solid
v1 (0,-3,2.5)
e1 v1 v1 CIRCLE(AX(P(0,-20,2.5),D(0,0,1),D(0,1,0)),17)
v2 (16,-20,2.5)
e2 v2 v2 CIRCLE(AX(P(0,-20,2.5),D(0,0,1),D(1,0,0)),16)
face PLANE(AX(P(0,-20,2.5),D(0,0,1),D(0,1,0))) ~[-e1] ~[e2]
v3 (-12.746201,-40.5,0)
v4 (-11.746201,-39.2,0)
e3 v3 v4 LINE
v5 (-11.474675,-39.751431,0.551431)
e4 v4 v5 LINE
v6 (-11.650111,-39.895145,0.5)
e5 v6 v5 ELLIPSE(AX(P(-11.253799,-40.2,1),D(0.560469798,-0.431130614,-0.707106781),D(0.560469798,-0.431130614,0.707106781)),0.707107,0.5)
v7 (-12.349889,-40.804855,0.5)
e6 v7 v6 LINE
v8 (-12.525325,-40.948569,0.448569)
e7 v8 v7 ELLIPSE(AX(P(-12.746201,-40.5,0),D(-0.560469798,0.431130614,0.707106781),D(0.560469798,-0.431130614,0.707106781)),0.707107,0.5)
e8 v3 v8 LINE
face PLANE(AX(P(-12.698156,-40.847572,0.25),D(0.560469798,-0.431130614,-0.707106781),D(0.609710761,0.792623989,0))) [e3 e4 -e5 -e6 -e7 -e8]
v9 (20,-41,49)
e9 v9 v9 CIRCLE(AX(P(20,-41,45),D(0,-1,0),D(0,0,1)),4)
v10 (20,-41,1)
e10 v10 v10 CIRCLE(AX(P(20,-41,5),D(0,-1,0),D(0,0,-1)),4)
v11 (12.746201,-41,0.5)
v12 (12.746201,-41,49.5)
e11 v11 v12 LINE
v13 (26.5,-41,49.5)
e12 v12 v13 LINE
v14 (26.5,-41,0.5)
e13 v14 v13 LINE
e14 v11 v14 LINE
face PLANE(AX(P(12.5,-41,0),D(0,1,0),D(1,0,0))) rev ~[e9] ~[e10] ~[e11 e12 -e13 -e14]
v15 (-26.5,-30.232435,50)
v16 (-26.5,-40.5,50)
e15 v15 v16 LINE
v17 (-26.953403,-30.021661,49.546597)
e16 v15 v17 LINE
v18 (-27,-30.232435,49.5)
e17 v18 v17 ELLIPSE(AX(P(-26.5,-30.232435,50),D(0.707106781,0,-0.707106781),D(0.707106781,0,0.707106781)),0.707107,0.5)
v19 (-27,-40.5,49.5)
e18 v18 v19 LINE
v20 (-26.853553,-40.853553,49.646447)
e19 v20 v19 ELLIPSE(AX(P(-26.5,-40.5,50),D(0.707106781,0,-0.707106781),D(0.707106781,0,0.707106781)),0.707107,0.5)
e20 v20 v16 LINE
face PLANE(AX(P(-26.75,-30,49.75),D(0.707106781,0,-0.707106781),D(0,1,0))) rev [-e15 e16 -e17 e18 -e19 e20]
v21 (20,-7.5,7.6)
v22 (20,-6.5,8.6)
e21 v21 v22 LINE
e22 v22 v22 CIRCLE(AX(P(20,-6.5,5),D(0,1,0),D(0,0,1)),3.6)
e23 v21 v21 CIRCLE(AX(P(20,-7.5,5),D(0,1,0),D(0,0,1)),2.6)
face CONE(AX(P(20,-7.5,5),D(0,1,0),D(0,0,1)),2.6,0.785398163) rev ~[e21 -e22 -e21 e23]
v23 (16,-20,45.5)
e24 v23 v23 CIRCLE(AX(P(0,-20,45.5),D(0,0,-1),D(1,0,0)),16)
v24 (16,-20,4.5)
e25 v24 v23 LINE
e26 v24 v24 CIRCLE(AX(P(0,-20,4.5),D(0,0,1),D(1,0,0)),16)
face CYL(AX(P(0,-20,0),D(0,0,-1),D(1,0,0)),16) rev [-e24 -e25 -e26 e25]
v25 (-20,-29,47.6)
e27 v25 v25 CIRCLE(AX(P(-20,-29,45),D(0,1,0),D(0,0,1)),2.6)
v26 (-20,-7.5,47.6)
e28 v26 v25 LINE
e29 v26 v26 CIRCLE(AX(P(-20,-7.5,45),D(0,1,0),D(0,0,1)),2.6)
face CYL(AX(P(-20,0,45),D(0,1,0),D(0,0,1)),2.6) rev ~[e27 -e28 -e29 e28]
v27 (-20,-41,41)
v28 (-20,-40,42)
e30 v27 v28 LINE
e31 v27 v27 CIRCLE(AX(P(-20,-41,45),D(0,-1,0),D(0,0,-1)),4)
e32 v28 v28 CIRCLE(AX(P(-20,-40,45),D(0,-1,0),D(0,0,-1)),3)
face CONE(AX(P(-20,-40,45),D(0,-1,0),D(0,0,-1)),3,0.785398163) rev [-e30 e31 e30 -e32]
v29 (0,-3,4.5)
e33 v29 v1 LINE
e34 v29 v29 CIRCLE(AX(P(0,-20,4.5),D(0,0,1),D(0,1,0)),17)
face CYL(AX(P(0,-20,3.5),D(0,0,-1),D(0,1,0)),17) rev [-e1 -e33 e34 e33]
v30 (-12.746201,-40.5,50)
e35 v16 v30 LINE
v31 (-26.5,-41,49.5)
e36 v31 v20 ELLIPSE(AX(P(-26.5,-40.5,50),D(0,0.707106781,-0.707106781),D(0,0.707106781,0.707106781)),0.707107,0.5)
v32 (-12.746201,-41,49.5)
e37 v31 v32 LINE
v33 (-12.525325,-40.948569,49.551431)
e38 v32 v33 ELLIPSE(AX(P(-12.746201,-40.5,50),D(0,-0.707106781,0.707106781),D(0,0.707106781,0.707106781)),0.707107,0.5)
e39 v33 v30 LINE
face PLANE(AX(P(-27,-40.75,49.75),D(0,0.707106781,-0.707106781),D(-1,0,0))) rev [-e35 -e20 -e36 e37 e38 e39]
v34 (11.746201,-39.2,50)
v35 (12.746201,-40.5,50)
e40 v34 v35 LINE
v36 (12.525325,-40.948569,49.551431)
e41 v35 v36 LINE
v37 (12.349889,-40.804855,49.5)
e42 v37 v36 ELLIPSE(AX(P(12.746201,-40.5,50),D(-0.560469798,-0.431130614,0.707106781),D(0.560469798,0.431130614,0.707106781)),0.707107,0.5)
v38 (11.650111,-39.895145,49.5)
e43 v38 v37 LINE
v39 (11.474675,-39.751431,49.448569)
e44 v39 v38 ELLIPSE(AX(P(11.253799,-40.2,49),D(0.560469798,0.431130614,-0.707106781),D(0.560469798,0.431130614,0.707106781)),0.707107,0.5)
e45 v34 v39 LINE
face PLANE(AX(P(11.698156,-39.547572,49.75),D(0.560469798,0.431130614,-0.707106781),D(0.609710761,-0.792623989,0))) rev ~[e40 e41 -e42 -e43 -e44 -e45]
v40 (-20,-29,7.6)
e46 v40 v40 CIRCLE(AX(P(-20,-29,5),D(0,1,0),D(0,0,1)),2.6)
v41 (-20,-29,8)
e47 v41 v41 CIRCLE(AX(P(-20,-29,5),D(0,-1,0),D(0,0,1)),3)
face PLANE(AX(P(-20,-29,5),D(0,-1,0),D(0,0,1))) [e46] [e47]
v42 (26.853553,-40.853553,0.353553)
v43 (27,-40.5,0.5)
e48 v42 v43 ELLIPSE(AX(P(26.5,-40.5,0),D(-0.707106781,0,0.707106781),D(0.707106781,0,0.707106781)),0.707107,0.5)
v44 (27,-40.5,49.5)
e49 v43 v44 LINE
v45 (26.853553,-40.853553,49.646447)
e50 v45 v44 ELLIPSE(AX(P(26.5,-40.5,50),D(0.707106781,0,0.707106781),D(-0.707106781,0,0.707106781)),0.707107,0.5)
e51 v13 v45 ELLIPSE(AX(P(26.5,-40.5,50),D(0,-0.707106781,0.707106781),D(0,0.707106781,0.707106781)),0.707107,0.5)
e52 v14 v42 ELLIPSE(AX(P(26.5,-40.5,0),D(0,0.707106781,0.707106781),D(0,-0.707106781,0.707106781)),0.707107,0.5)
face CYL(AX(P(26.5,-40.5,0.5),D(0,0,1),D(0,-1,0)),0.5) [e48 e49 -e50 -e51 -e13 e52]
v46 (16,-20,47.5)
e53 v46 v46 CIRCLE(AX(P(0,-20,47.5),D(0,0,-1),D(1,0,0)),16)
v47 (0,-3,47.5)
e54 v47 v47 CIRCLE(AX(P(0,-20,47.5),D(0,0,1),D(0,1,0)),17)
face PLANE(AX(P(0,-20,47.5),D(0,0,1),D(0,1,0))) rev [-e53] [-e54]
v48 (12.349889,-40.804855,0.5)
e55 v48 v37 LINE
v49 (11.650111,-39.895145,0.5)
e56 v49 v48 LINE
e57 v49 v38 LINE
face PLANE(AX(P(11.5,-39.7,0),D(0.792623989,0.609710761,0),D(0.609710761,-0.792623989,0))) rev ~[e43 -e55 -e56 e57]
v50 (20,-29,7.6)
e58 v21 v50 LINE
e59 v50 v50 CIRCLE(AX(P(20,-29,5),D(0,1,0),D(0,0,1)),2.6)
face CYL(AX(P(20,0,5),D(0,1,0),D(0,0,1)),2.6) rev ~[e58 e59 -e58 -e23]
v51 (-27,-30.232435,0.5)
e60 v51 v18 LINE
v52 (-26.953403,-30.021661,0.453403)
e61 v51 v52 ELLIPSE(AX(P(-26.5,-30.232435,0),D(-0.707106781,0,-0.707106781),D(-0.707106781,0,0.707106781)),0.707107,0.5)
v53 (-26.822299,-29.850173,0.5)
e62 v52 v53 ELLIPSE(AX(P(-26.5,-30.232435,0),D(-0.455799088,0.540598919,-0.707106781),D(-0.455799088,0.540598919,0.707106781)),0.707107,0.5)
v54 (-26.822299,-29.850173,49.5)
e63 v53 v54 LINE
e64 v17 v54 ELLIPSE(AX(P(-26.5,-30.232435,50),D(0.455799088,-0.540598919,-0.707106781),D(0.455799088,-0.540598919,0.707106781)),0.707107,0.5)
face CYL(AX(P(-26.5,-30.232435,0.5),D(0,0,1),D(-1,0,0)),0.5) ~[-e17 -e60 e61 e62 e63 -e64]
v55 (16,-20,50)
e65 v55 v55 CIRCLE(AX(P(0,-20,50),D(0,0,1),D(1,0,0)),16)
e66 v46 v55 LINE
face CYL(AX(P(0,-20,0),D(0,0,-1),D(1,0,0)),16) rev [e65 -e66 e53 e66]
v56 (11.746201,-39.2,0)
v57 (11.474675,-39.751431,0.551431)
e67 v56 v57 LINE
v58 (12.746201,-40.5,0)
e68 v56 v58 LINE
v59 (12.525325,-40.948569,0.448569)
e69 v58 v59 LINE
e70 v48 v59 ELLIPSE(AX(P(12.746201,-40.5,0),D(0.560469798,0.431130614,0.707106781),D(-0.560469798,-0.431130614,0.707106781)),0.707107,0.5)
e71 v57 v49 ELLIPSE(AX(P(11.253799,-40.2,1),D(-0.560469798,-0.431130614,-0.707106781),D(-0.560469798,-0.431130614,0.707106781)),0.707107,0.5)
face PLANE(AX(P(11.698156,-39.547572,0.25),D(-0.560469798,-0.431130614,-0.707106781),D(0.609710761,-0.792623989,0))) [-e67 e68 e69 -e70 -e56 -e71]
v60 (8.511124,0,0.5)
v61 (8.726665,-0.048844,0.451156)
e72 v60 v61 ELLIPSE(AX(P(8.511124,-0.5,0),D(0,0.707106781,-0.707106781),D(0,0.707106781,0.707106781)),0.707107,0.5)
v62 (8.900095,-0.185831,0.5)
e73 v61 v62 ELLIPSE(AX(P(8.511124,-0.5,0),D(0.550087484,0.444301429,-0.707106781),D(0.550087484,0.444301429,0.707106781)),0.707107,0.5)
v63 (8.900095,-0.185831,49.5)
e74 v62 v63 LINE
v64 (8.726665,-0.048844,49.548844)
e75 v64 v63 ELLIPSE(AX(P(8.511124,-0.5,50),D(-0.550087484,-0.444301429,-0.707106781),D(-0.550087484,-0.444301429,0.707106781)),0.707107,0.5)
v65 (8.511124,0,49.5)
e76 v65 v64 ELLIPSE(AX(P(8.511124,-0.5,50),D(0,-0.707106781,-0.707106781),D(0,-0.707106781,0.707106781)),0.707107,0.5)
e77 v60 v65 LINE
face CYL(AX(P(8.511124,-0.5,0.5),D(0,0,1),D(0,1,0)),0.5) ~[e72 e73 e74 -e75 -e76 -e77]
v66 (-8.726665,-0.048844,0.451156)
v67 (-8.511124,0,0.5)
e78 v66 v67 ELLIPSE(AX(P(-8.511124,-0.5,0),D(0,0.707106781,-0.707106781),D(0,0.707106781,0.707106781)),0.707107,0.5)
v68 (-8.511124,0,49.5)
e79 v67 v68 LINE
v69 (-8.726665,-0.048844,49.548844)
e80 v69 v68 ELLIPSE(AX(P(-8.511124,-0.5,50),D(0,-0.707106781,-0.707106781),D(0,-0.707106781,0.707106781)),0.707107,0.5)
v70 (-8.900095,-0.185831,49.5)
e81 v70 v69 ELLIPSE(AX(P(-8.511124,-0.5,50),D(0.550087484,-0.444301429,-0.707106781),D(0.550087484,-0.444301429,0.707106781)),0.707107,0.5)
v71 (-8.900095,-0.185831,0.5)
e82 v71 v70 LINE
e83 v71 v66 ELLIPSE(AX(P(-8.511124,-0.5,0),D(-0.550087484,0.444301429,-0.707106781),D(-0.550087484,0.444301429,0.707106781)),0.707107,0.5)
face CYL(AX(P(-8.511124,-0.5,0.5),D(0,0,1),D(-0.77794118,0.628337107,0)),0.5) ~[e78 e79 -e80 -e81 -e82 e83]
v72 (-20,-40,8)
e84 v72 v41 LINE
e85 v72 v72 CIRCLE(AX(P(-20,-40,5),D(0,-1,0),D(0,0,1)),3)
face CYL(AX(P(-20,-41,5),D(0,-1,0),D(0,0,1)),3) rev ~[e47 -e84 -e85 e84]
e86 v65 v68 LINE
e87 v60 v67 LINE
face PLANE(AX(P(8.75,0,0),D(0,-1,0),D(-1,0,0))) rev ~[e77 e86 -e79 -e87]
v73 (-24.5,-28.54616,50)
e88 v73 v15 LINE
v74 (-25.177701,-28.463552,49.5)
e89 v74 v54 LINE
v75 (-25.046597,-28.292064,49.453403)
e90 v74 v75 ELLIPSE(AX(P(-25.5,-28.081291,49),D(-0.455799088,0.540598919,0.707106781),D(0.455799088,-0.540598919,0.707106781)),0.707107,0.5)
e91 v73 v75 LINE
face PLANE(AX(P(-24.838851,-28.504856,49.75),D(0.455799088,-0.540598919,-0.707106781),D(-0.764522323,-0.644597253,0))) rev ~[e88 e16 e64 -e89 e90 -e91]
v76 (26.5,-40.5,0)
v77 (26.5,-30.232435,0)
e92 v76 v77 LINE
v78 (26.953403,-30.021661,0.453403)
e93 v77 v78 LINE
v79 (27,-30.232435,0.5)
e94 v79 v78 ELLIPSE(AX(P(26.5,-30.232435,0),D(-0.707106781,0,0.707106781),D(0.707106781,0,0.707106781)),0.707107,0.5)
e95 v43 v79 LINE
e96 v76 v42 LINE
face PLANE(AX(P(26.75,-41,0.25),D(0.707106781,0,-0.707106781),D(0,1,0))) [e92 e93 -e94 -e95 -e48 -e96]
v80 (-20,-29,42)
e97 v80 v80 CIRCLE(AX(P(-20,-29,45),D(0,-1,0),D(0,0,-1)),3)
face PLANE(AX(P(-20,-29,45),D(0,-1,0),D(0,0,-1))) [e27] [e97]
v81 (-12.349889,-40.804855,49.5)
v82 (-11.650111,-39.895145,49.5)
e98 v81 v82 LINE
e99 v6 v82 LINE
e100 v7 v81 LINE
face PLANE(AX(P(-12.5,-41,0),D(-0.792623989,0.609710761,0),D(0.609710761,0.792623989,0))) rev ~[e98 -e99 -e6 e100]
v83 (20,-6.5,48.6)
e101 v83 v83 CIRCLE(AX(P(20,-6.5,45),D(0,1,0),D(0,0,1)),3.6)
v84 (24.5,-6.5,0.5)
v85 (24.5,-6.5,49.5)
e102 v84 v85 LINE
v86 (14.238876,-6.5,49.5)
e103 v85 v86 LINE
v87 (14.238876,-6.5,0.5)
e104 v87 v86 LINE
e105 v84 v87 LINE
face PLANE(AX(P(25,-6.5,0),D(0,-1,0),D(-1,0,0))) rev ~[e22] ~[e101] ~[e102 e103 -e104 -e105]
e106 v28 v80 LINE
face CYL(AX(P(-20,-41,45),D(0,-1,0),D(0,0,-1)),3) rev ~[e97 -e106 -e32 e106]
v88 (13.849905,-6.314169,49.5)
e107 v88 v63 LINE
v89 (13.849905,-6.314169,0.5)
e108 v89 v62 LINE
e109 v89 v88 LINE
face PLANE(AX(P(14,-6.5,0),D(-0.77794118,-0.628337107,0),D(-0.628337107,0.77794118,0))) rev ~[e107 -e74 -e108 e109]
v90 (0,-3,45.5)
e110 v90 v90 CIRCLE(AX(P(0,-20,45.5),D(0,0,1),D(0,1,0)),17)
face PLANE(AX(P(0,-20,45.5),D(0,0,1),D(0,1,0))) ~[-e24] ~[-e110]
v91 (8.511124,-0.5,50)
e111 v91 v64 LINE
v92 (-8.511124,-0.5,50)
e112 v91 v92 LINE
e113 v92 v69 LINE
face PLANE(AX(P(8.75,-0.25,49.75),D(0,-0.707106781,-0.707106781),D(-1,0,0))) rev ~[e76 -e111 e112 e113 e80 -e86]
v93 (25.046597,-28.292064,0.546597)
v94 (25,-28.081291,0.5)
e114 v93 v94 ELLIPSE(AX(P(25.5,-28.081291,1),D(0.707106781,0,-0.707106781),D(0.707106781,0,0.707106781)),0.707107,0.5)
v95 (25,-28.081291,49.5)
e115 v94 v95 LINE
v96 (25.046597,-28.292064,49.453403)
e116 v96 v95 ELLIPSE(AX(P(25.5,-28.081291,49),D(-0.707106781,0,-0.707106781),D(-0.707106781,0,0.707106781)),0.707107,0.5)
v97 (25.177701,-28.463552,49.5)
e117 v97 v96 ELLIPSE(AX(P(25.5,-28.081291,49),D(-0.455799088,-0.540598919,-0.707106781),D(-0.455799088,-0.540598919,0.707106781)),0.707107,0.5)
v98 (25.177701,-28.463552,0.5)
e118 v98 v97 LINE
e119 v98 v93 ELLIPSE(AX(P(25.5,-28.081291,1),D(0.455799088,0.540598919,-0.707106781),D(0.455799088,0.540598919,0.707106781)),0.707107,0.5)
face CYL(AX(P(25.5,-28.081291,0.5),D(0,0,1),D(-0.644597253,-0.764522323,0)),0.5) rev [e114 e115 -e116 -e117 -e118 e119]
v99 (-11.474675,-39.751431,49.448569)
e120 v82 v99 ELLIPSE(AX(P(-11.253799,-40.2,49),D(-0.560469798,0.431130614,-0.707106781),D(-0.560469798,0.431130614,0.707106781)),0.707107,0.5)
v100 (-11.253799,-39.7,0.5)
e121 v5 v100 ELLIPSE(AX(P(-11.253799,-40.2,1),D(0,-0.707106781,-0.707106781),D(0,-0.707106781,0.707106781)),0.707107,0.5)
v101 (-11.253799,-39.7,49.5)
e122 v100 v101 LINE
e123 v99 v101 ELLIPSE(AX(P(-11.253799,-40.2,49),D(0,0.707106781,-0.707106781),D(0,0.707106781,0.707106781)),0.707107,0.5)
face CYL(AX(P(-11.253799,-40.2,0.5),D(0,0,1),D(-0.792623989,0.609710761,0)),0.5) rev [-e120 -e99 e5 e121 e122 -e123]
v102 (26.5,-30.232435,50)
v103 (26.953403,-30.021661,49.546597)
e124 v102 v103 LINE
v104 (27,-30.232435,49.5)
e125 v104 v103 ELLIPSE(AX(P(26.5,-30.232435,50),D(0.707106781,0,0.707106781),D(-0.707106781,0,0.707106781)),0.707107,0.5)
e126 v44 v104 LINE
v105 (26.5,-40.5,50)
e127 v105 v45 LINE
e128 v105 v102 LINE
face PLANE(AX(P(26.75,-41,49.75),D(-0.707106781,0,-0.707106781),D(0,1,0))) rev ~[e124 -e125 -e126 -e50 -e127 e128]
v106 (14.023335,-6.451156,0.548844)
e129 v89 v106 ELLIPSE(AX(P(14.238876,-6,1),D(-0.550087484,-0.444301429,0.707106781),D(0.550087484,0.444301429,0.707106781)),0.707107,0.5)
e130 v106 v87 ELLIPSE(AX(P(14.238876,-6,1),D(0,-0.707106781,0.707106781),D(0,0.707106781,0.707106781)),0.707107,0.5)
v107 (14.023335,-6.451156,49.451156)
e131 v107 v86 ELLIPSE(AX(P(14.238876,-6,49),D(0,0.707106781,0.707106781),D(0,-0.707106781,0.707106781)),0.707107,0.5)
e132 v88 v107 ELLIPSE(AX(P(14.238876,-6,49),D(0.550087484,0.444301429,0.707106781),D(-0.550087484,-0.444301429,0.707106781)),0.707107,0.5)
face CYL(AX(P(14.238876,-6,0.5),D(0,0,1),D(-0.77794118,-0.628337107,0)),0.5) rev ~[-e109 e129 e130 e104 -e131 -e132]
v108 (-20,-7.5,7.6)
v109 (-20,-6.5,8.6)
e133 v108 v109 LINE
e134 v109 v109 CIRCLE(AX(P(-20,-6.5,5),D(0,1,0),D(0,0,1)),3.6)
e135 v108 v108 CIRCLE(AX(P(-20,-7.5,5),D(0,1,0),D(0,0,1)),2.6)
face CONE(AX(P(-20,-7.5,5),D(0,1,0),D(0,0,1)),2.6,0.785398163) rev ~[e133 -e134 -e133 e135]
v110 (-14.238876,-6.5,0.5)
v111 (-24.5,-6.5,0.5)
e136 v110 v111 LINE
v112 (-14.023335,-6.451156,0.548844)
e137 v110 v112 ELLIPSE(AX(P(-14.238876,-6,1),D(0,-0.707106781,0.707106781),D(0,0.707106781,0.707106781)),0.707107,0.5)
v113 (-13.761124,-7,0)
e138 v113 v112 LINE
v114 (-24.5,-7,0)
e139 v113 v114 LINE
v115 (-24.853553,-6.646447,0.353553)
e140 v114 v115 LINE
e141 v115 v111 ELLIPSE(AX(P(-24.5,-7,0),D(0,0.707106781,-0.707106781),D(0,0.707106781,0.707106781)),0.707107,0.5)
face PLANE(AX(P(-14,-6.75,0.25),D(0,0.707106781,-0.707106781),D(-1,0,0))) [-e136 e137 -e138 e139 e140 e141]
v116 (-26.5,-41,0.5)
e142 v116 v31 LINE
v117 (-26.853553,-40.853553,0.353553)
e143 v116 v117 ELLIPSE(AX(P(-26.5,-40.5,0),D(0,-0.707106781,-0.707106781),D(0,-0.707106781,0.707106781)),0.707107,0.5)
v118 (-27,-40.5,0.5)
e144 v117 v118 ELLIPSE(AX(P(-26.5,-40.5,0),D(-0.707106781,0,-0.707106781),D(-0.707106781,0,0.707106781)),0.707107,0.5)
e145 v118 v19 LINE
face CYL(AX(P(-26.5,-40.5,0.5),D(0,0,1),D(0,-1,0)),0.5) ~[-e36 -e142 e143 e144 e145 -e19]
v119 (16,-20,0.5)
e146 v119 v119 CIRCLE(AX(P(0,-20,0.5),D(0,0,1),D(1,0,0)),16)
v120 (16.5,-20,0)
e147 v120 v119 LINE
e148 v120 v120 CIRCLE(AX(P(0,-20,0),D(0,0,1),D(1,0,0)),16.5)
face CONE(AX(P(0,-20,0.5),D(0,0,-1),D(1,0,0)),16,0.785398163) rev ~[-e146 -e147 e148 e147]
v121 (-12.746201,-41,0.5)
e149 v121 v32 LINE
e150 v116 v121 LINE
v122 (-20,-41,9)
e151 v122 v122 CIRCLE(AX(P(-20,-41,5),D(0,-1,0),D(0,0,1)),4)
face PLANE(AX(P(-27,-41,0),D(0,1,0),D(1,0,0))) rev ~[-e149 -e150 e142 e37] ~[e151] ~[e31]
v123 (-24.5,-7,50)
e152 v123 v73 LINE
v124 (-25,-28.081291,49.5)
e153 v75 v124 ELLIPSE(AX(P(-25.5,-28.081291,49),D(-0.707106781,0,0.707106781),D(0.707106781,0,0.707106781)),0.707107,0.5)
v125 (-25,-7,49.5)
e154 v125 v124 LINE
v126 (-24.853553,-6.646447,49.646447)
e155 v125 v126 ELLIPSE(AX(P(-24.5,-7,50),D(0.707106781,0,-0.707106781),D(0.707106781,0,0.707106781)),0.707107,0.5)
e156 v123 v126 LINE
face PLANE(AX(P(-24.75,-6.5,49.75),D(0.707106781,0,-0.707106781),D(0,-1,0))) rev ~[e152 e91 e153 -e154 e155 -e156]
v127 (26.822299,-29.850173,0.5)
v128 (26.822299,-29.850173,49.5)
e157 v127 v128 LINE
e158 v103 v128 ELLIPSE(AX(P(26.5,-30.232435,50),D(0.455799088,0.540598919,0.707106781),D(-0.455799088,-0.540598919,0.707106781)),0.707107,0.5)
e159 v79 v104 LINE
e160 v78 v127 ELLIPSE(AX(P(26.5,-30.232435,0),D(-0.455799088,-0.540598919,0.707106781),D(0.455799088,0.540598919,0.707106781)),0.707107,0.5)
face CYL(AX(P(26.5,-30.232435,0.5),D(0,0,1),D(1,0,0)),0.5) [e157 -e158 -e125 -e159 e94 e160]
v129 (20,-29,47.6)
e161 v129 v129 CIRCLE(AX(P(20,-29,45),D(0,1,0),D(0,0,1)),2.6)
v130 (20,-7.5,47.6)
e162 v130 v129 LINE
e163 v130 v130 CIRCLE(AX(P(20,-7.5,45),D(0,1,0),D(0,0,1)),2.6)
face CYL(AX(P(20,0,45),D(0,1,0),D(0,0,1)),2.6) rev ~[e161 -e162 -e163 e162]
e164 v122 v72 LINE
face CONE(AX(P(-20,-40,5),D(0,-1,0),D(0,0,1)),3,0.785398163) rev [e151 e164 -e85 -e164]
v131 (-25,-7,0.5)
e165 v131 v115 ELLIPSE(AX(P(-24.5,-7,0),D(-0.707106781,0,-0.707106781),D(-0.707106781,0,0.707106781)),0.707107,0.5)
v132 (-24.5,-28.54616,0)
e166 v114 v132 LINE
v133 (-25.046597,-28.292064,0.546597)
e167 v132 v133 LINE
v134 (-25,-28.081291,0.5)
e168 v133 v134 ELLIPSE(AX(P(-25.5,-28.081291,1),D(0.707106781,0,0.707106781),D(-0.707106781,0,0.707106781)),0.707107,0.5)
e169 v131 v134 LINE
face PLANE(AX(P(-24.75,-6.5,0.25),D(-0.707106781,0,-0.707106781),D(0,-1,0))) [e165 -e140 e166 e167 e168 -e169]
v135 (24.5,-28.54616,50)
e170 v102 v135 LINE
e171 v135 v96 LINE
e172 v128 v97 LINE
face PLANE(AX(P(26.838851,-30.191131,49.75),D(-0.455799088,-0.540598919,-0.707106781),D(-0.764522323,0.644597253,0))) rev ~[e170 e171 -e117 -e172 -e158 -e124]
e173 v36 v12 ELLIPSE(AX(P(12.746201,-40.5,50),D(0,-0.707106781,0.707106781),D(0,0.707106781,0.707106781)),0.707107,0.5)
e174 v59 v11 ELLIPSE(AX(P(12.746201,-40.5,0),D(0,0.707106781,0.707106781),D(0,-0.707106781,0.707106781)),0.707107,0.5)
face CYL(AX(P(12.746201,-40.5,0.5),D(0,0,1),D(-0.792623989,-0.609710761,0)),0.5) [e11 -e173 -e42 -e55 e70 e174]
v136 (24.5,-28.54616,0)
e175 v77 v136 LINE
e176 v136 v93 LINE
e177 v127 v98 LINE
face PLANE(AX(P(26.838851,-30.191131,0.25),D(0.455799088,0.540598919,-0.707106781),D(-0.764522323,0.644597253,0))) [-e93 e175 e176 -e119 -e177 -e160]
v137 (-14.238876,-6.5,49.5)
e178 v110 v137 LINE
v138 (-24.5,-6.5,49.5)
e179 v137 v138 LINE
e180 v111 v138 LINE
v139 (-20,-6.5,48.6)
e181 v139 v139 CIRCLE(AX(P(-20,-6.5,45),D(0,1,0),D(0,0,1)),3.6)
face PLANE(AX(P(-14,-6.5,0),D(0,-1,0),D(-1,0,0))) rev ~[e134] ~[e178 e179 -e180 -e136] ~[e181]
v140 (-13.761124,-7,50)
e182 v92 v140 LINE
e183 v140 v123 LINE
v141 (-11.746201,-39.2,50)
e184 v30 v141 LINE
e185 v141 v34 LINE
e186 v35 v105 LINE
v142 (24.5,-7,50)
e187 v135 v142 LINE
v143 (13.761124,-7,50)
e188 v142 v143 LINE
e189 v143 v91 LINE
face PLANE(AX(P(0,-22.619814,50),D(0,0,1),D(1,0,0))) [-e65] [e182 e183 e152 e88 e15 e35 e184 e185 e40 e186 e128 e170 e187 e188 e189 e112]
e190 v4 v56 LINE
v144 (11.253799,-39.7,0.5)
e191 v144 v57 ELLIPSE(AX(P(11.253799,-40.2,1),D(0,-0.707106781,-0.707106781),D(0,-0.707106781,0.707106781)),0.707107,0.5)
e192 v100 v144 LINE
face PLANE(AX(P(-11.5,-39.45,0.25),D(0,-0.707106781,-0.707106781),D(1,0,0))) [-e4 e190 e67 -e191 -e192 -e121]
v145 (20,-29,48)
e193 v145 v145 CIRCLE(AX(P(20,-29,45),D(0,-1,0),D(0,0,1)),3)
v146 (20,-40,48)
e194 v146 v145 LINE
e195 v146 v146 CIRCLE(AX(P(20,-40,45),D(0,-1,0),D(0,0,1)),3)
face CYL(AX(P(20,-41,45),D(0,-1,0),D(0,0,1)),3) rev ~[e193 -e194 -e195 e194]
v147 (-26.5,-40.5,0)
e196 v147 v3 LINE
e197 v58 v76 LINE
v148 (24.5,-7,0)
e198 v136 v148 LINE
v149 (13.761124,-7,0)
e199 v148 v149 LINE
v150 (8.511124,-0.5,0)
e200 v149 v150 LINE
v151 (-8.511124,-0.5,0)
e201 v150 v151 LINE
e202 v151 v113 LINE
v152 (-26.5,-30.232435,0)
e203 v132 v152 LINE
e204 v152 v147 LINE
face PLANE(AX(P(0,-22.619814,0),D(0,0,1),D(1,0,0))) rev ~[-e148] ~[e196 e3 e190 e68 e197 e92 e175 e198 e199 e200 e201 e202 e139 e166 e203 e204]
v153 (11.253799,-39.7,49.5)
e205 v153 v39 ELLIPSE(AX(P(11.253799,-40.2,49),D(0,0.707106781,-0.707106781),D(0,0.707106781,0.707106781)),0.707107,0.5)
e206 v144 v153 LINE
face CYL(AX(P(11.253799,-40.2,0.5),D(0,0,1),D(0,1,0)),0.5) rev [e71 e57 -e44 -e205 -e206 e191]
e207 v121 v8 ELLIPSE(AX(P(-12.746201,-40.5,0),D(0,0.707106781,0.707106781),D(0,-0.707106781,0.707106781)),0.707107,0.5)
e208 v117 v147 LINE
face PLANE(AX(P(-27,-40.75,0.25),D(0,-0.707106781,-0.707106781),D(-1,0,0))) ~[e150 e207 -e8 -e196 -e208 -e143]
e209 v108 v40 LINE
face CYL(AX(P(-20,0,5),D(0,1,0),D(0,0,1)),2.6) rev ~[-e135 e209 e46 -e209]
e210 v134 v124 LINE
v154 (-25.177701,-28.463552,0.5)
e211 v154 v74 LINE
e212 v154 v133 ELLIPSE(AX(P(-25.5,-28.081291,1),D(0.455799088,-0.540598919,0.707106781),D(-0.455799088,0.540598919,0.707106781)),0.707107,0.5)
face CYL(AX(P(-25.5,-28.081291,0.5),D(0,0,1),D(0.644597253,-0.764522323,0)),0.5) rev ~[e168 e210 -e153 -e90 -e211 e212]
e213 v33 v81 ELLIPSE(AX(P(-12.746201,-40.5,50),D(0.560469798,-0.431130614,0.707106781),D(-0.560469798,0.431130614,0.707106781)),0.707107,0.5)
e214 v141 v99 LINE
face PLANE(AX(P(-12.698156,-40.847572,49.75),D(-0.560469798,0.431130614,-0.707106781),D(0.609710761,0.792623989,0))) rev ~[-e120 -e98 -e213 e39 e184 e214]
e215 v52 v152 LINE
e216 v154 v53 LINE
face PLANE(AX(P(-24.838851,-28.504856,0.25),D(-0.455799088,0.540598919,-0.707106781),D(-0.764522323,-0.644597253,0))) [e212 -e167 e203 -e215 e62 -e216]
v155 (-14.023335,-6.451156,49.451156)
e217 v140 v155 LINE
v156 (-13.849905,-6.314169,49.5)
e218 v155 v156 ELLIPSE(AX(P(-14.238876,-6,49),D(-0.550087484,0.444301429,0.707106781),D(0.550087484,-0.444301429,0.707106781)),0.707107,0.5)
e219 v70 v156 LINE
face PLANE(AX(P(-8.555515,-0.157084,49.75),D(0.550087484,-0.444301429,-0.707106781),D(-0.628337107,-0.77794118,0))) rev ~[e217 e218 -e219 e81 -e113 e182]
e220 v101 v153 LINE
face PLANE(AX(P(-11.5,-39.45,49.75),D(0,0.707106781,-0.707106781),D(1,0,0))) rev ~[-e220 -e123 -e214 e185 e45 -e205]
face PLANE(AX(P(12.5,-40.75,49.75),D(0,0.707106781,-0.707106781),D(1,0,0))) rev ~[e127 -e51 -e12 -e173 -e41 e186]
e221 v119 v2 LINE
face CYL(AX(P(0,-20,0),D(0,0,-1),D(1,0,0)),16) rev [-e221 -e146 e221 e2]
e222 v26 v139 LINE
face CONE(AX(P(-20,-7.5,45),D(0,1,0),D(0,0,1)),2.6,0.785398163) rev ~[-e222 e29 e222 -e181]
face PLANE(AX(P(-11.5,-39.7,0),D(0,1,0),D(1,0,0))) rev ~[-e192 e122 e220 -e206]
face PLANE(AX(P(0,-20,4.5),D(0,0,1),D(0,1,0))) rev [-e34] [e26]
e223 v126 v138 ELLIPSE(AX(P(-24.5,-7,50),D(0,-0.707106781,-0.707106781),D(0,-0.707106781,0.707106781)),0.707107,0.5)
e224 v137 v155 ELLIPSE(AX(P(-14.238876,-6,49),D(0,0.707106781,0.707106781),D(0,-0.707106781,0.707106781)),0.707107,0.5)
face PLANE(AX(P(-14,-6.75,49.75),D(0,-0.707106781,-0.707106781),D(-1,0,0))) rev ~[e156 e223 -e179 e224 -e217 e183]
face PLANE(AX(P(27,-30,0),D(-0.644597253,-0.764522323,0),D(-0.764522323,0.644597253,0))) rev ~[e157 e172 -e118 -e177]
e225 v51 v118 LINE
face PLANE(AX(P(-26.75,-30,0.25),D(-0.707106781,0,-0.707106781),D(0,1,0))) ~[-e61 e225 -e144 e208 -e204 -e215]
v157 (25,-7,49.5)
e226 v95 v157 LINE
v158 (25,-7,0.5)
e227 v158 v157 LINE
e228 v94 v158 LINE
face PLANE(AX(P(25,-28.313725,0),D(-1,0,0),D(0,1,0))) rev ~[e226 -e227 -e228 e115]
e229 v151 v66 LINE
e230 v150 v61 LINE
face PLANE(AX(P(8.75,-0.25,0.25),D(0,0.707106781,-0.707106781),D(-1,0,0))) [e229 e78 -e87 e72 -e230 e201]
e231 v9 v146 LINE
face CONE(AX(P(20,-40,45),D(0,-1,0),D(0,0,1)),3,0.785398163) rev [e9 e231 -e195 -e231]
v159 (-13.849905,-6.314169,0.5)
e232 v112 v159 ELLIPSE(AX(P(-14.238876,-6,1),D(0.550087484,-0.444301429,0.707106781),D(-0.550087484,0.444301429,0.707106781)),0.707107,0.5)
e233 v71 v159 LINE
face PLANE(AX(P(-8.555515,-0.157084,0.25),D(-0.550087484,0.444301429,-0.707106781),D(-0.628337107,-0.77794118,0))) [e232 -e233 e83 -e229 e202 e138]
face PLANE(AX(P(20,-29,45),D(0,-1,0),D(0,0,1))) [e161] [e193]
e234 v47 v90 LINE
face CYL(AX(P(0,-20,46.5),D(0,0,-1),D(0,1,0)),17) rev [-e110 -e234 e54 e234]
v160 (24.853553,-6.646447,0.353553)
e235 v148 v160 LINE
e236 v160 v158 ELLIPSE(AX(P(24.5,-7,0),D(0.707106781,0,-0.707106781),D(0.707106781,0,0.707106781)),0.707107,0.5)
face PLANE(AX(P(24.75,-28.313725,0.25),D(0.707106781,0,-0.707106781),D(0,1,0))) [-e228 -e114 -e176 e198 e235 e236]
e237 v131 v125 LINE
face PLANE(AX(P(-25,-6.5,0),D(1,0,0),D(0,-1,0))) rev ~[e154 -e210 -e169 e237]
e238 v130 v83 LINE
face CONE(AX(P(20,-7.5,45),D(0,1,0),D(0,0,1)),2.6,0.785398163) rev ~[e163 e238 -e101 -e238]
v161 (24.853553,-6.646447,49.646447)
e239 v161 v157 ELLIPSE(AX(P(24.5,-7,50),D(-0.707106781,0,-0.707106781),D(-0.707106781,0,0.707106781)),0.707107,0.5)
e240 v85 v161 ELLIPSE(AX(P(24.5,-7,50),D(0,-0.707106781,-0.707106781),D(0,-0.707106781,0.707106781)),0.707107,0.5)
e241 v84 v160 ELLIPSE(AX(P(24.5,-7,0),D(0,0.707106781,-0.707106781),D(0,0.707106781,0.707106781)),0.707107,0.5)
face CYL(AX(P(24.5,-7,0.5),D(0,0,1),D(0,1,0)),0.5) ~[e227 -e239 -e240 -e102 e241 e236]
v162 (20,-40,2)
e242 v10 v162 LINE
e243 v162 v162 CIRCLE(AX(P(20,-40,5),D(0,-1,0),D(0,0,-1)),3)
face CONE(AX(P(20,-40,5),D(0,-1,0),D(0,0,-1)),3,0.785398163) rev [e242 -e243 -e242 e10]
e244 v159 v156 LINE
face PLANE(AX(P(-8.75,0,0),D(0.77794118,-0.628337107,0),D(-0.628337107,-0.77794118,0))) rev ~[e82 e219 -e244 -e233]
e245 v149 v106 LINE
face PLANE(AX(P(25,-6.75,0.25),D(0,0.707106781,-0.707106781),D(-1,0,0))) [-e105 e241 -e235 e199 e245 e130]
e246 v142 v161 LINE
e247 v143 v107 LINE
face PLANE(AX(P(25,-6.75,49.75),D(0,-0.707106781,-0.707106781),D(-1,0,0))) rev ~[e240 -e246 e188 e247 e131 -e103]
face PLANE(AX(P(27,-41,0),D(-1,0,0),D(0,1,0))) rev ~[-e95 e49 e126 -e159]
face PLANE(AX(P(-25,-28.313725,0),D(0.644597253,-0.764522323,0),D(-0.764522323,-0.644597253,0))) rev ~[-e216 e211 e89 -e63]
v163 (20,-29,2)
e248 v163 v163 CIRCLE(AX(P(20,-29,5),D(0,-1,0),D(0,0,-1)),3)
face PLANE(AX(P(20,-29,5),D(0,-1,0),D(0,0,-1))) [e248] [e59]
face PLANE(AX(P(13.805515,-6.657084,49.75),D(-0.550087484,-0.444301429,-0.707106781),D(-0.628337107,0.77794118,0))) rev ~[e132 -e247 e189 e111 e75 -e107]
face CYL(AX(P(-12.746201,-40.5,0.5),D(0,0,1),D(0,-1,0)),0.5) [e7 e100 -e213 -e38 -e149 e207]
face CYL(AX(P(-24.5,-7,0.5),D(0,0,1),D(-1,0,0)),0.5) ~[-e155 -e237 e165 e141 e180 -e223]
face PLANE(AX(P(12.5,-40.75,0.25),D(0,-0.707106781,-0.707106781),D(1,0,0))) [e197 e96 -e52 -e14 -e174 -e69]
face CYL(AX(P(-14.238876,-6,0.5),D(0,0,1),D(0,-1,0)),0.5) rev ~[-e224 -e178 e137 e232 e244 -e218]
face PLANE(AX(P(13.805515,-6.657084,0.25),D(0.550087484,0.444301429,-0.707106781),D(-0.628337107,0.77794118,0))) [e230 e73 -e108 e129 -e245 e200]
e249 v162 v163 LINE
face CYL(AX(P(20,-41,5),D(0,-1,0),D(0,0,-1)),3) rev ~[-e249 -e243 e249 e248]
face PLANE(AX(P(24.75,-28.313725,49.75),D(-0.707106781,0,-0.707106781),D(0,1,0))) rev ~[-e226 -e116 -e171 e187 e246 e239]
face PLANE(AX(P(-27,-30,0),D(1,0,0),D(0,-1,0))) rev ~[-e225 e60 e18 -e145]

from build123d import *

# Parameters (mm, degrees)
SKETCH1_R           = 16
BOSS_EXTRUDE1_DEPTH = 50
CUT_EXTRUDE1_REACH  = 72.071
SKETCH2_R           = 2.6
SKETCH3_R           = 3
CUT_EXTRUDE2_DEPTH  = 12
SKETCH4_W           = 2
SKETCH4_H           = 1
CHAMFER1_SIZE       = 1
CHAMFER2_SIZE       = 0.5
FILLET2_R           = 0.5


with BuildPart() as part:
    # Sketch1 → Boss-Extrude1 (new body)
    with BuildSketch(Plane.XY):
        Polygon((8.75, 0), (-8.75, 0), (-14, -6.5), (-25, -6.5), (-25, -28.31372549), (-27, -30), (-27, -41), (-12.5, -41), (-11.5, -39.7), (11.5, -39.7), (12.5, -41), (27, -41), (27, -30), (25, -28.31372549), (25, -6.5), (14, -6.5), align=None)
        with Locations((0, -20)):
            Circle(SKETCH1_R, mode=Mode.SUBTRACT)
    extrude(amount=BOSS_EXTRUDE1_DEPTH)

    # Sketch2 → Cut-Extrude1 (cut, up to next)
    with BuildSketch(Plane(origin=(0, 0, 0), x_dir=(1, 0, 0), z_dir=(0, 1, 0)), mode=Mode.PRIVATE) as cut_extrude1_sk1:
        with Locations(Location((-20, -45, 0), (0, 0, 270))):
            Circle(SKETCH2_R)
    cut_extrude1_tool1 = extrude(cut_extrude1_sk1.sketch, amount=-CUT_EXTRUDE1_REACH, mode=Mode.PRIVATE) & part.part
    # Sketch2 → Cut-Extrude1 (cut, up to next)
    with BuildSketch(Plane(origin=(0, 0, 0), x_dir=(1, 0, 0), z_dir=(0, 1, 0)), mode=Mode.PRIVATE) as cut_extrude1_sk2:
        with Locations(Location((20, -45, 0), (0, 0, 270))):
            Circle(SKETCH2_R)
    cut_extrude1_tool2 = extrude(cut_extrude1_sk2.sketch, amount=-CUT_EXTRUDE1_REACH, mode=Mode.PRIVATE) & part.part
    # Sketch2 → Cut-Extrude1 (cut, up to next)
    with BuildSketch(Plane(origin=(0, 0, 0), x_dir=(1, 0, 0), z_dir=(0, 1, 0)), mode=Mode.PRIVATE) as cut_extrude1_sk3:
        with Locations(Location((20, -5, 0), (0, 0, 270))):
            Circle(SKETCH2_R)
    cut_extrude1_tool3 = extrude(cut_extrude1_sk3.sketch, amount=-CUT_EXTRUDE1_REACH, mode=Mode.PRIVATE) & part.part
    # Sketch2 → Cut-Extrude1 (cut, up to next)
    with BuildSketch(Plane(origin=(0, 0, 0), x_dir=(1, 0, 0), z_dir=(0, 1, 0)), mode=Mode.PRIVATE) as cut_extrude1_sk4:
        with Locations(Location((-20, -5, 0), (0, 0, 270))):
            Circle(SKETCH2_R)
    cut_extrude1_tool4 = extrude(cut_extrude1_sk4.sketch, amount=-CUT_EXTRUDE1_REACH, mode=Mode.PRIVATE) & part.part
    add(cut_extrude1_tool1.solids().sort_by_distance((-20, 0, 45))[0], mode=Mode.SUBTRACT)
    add(cut_extrude1_tool2.solids().sort_by_distance((20, 0, 45))[0], mode=Mode.SUBTRACT)
    add(cut_extrude1_tool3.solids().sort_by_distance((20, 0, 5))[0], mode=Mode.SUBTRACT)
    add(cut_extrude1_tool4.solids().sort_by_distance((-20, 0, 5))[0], mode=Mode.SUBTRACT)

    # Sketch3 → Cut-Extrude2 (cut)
    with BuildSketch(Plane.XZ.offset(41)):
        with Locations(Location((-20, 45, 0), (0, 0, 270))):
            Circle(SKETCH3_R)
        with Locations(Location((20, 45, 0), (0, 0, 90))):
            Circle(SKETCH3_R)
        with Locations(Location((20, 5, 0), (0, 0, 270))):
            Circle(SKETCH3_R)
        with Locations(Location((-20, 5, 0), (0, 0, 90))):
            Circle(SKETCH3_R)
    extrude(amount=-CUT_EXTRUDE2_DEPTH, mode=Mode.SUBTRACT)

    # Sketch4 → Cut-Revolve1 (revolve, cut)
    with BuildSketch(Plane(origin=(0, 0, 0), x_dir=(0, 0, -1), z_dir=(1, 0, 0))):
        with Locations((-46.5, -3.5)):
            Rectangle(SKETCH4_W, SKETCH4_H)
        with Locations((-3.5, -3.5)):
            Rectangle(SKETCH4_W, SKETCH4_H)
    revolve(axis=Axis((0, -20, 0), (0, 0, 1)), mode=Mode.SUBTRACT)

    # Chamfer1
    chamfer1_edges = [part.edges().sort_by_distance(p)[0] for p in [
        (-20, -6.5, 42.4),
        (20, -6.5, 42.4),
        (20, -6.5, 2.4),
        (-20, -6.5, 2.4),
        (-20, -41, 48),
        (20, -41, 42),
        (20, -41, 8),
        (-20, -41, 2),
    ]]
    chamfer(chamfer1_edges, length=CHAMFER1_SIZE)

    # Chamfer2
    chamfer2_edges = [part.edges().sort_by_distance(p)[0] for p in [
        (0, -39.7, 50),
        (12, -40.35, 50),
        (-27, -35.5, 0),
        (-26, -29.156862745, 0),
        (-25, -17.406862745, 0),
        (-19.5, -6.5, 0),
        (-11.375, -3.25, 0),
        (19.75, -41, 50),
        (0, 0, 0),
        (11.375, -3.25, 0),
        (19.5, -6.5, 0),
        (25, -17.406862745, 0),
        (26, -29.156862745, 0),
        (27, -35.5, 0),
        (19.75, -41, 0),
        (12, -40.35, 0),
        (27, -35.5, 50),
        (0, -39.7, 0),
        (-12, -40.35, 0),
        (-19.75, -41, 0),
        (26, -29.156862745, 50),
        (25, -17.406862745, 50),
        (19.5, -6.5, 50),
        (11.375, -3.25, 50),
        (0, 0, 50),
        (-11.375, -3.25, 50),
        (-16, -20, 0),
        (-19.75, -41, 50),
        (-19.5, -6.5, 50),
        (-25, -17.406862745, 50),
        (-26, -29.156862745, 50),
        (-27, -35.5, 50),
        (-12, -40.35, 50),
    ]]
    chamfer(chamfer2_edges, length=CHAMFER2_SIZE)

    # Fillet2
    fillet2_edges = [part.edges().sort_by_distance(p)[0] for p in [
        (14, -6.5, 25),
        (25, -6.5, 25),
        (8.75, 0, 25),
        (-8.75, 0, 25),
        (-14, -6.5, 25),
        (-25, -6.5, 25),
        (-25, -28.31372549, 25),
        (-27, -30, 25),
        (-27, -41, 25),
        (-12.5, -41, 25),
        (-11.5, -39.7, 25),
        (11.5, -39.7, 25),
        (12.5, -41, 25),
        (27, -41, 25),
        (27, -30, 25),
        (25, -28.31372549, 25),
    ]]
    fillet(fillet2_edges, radius=FILLET2_R)


solid = part.part
